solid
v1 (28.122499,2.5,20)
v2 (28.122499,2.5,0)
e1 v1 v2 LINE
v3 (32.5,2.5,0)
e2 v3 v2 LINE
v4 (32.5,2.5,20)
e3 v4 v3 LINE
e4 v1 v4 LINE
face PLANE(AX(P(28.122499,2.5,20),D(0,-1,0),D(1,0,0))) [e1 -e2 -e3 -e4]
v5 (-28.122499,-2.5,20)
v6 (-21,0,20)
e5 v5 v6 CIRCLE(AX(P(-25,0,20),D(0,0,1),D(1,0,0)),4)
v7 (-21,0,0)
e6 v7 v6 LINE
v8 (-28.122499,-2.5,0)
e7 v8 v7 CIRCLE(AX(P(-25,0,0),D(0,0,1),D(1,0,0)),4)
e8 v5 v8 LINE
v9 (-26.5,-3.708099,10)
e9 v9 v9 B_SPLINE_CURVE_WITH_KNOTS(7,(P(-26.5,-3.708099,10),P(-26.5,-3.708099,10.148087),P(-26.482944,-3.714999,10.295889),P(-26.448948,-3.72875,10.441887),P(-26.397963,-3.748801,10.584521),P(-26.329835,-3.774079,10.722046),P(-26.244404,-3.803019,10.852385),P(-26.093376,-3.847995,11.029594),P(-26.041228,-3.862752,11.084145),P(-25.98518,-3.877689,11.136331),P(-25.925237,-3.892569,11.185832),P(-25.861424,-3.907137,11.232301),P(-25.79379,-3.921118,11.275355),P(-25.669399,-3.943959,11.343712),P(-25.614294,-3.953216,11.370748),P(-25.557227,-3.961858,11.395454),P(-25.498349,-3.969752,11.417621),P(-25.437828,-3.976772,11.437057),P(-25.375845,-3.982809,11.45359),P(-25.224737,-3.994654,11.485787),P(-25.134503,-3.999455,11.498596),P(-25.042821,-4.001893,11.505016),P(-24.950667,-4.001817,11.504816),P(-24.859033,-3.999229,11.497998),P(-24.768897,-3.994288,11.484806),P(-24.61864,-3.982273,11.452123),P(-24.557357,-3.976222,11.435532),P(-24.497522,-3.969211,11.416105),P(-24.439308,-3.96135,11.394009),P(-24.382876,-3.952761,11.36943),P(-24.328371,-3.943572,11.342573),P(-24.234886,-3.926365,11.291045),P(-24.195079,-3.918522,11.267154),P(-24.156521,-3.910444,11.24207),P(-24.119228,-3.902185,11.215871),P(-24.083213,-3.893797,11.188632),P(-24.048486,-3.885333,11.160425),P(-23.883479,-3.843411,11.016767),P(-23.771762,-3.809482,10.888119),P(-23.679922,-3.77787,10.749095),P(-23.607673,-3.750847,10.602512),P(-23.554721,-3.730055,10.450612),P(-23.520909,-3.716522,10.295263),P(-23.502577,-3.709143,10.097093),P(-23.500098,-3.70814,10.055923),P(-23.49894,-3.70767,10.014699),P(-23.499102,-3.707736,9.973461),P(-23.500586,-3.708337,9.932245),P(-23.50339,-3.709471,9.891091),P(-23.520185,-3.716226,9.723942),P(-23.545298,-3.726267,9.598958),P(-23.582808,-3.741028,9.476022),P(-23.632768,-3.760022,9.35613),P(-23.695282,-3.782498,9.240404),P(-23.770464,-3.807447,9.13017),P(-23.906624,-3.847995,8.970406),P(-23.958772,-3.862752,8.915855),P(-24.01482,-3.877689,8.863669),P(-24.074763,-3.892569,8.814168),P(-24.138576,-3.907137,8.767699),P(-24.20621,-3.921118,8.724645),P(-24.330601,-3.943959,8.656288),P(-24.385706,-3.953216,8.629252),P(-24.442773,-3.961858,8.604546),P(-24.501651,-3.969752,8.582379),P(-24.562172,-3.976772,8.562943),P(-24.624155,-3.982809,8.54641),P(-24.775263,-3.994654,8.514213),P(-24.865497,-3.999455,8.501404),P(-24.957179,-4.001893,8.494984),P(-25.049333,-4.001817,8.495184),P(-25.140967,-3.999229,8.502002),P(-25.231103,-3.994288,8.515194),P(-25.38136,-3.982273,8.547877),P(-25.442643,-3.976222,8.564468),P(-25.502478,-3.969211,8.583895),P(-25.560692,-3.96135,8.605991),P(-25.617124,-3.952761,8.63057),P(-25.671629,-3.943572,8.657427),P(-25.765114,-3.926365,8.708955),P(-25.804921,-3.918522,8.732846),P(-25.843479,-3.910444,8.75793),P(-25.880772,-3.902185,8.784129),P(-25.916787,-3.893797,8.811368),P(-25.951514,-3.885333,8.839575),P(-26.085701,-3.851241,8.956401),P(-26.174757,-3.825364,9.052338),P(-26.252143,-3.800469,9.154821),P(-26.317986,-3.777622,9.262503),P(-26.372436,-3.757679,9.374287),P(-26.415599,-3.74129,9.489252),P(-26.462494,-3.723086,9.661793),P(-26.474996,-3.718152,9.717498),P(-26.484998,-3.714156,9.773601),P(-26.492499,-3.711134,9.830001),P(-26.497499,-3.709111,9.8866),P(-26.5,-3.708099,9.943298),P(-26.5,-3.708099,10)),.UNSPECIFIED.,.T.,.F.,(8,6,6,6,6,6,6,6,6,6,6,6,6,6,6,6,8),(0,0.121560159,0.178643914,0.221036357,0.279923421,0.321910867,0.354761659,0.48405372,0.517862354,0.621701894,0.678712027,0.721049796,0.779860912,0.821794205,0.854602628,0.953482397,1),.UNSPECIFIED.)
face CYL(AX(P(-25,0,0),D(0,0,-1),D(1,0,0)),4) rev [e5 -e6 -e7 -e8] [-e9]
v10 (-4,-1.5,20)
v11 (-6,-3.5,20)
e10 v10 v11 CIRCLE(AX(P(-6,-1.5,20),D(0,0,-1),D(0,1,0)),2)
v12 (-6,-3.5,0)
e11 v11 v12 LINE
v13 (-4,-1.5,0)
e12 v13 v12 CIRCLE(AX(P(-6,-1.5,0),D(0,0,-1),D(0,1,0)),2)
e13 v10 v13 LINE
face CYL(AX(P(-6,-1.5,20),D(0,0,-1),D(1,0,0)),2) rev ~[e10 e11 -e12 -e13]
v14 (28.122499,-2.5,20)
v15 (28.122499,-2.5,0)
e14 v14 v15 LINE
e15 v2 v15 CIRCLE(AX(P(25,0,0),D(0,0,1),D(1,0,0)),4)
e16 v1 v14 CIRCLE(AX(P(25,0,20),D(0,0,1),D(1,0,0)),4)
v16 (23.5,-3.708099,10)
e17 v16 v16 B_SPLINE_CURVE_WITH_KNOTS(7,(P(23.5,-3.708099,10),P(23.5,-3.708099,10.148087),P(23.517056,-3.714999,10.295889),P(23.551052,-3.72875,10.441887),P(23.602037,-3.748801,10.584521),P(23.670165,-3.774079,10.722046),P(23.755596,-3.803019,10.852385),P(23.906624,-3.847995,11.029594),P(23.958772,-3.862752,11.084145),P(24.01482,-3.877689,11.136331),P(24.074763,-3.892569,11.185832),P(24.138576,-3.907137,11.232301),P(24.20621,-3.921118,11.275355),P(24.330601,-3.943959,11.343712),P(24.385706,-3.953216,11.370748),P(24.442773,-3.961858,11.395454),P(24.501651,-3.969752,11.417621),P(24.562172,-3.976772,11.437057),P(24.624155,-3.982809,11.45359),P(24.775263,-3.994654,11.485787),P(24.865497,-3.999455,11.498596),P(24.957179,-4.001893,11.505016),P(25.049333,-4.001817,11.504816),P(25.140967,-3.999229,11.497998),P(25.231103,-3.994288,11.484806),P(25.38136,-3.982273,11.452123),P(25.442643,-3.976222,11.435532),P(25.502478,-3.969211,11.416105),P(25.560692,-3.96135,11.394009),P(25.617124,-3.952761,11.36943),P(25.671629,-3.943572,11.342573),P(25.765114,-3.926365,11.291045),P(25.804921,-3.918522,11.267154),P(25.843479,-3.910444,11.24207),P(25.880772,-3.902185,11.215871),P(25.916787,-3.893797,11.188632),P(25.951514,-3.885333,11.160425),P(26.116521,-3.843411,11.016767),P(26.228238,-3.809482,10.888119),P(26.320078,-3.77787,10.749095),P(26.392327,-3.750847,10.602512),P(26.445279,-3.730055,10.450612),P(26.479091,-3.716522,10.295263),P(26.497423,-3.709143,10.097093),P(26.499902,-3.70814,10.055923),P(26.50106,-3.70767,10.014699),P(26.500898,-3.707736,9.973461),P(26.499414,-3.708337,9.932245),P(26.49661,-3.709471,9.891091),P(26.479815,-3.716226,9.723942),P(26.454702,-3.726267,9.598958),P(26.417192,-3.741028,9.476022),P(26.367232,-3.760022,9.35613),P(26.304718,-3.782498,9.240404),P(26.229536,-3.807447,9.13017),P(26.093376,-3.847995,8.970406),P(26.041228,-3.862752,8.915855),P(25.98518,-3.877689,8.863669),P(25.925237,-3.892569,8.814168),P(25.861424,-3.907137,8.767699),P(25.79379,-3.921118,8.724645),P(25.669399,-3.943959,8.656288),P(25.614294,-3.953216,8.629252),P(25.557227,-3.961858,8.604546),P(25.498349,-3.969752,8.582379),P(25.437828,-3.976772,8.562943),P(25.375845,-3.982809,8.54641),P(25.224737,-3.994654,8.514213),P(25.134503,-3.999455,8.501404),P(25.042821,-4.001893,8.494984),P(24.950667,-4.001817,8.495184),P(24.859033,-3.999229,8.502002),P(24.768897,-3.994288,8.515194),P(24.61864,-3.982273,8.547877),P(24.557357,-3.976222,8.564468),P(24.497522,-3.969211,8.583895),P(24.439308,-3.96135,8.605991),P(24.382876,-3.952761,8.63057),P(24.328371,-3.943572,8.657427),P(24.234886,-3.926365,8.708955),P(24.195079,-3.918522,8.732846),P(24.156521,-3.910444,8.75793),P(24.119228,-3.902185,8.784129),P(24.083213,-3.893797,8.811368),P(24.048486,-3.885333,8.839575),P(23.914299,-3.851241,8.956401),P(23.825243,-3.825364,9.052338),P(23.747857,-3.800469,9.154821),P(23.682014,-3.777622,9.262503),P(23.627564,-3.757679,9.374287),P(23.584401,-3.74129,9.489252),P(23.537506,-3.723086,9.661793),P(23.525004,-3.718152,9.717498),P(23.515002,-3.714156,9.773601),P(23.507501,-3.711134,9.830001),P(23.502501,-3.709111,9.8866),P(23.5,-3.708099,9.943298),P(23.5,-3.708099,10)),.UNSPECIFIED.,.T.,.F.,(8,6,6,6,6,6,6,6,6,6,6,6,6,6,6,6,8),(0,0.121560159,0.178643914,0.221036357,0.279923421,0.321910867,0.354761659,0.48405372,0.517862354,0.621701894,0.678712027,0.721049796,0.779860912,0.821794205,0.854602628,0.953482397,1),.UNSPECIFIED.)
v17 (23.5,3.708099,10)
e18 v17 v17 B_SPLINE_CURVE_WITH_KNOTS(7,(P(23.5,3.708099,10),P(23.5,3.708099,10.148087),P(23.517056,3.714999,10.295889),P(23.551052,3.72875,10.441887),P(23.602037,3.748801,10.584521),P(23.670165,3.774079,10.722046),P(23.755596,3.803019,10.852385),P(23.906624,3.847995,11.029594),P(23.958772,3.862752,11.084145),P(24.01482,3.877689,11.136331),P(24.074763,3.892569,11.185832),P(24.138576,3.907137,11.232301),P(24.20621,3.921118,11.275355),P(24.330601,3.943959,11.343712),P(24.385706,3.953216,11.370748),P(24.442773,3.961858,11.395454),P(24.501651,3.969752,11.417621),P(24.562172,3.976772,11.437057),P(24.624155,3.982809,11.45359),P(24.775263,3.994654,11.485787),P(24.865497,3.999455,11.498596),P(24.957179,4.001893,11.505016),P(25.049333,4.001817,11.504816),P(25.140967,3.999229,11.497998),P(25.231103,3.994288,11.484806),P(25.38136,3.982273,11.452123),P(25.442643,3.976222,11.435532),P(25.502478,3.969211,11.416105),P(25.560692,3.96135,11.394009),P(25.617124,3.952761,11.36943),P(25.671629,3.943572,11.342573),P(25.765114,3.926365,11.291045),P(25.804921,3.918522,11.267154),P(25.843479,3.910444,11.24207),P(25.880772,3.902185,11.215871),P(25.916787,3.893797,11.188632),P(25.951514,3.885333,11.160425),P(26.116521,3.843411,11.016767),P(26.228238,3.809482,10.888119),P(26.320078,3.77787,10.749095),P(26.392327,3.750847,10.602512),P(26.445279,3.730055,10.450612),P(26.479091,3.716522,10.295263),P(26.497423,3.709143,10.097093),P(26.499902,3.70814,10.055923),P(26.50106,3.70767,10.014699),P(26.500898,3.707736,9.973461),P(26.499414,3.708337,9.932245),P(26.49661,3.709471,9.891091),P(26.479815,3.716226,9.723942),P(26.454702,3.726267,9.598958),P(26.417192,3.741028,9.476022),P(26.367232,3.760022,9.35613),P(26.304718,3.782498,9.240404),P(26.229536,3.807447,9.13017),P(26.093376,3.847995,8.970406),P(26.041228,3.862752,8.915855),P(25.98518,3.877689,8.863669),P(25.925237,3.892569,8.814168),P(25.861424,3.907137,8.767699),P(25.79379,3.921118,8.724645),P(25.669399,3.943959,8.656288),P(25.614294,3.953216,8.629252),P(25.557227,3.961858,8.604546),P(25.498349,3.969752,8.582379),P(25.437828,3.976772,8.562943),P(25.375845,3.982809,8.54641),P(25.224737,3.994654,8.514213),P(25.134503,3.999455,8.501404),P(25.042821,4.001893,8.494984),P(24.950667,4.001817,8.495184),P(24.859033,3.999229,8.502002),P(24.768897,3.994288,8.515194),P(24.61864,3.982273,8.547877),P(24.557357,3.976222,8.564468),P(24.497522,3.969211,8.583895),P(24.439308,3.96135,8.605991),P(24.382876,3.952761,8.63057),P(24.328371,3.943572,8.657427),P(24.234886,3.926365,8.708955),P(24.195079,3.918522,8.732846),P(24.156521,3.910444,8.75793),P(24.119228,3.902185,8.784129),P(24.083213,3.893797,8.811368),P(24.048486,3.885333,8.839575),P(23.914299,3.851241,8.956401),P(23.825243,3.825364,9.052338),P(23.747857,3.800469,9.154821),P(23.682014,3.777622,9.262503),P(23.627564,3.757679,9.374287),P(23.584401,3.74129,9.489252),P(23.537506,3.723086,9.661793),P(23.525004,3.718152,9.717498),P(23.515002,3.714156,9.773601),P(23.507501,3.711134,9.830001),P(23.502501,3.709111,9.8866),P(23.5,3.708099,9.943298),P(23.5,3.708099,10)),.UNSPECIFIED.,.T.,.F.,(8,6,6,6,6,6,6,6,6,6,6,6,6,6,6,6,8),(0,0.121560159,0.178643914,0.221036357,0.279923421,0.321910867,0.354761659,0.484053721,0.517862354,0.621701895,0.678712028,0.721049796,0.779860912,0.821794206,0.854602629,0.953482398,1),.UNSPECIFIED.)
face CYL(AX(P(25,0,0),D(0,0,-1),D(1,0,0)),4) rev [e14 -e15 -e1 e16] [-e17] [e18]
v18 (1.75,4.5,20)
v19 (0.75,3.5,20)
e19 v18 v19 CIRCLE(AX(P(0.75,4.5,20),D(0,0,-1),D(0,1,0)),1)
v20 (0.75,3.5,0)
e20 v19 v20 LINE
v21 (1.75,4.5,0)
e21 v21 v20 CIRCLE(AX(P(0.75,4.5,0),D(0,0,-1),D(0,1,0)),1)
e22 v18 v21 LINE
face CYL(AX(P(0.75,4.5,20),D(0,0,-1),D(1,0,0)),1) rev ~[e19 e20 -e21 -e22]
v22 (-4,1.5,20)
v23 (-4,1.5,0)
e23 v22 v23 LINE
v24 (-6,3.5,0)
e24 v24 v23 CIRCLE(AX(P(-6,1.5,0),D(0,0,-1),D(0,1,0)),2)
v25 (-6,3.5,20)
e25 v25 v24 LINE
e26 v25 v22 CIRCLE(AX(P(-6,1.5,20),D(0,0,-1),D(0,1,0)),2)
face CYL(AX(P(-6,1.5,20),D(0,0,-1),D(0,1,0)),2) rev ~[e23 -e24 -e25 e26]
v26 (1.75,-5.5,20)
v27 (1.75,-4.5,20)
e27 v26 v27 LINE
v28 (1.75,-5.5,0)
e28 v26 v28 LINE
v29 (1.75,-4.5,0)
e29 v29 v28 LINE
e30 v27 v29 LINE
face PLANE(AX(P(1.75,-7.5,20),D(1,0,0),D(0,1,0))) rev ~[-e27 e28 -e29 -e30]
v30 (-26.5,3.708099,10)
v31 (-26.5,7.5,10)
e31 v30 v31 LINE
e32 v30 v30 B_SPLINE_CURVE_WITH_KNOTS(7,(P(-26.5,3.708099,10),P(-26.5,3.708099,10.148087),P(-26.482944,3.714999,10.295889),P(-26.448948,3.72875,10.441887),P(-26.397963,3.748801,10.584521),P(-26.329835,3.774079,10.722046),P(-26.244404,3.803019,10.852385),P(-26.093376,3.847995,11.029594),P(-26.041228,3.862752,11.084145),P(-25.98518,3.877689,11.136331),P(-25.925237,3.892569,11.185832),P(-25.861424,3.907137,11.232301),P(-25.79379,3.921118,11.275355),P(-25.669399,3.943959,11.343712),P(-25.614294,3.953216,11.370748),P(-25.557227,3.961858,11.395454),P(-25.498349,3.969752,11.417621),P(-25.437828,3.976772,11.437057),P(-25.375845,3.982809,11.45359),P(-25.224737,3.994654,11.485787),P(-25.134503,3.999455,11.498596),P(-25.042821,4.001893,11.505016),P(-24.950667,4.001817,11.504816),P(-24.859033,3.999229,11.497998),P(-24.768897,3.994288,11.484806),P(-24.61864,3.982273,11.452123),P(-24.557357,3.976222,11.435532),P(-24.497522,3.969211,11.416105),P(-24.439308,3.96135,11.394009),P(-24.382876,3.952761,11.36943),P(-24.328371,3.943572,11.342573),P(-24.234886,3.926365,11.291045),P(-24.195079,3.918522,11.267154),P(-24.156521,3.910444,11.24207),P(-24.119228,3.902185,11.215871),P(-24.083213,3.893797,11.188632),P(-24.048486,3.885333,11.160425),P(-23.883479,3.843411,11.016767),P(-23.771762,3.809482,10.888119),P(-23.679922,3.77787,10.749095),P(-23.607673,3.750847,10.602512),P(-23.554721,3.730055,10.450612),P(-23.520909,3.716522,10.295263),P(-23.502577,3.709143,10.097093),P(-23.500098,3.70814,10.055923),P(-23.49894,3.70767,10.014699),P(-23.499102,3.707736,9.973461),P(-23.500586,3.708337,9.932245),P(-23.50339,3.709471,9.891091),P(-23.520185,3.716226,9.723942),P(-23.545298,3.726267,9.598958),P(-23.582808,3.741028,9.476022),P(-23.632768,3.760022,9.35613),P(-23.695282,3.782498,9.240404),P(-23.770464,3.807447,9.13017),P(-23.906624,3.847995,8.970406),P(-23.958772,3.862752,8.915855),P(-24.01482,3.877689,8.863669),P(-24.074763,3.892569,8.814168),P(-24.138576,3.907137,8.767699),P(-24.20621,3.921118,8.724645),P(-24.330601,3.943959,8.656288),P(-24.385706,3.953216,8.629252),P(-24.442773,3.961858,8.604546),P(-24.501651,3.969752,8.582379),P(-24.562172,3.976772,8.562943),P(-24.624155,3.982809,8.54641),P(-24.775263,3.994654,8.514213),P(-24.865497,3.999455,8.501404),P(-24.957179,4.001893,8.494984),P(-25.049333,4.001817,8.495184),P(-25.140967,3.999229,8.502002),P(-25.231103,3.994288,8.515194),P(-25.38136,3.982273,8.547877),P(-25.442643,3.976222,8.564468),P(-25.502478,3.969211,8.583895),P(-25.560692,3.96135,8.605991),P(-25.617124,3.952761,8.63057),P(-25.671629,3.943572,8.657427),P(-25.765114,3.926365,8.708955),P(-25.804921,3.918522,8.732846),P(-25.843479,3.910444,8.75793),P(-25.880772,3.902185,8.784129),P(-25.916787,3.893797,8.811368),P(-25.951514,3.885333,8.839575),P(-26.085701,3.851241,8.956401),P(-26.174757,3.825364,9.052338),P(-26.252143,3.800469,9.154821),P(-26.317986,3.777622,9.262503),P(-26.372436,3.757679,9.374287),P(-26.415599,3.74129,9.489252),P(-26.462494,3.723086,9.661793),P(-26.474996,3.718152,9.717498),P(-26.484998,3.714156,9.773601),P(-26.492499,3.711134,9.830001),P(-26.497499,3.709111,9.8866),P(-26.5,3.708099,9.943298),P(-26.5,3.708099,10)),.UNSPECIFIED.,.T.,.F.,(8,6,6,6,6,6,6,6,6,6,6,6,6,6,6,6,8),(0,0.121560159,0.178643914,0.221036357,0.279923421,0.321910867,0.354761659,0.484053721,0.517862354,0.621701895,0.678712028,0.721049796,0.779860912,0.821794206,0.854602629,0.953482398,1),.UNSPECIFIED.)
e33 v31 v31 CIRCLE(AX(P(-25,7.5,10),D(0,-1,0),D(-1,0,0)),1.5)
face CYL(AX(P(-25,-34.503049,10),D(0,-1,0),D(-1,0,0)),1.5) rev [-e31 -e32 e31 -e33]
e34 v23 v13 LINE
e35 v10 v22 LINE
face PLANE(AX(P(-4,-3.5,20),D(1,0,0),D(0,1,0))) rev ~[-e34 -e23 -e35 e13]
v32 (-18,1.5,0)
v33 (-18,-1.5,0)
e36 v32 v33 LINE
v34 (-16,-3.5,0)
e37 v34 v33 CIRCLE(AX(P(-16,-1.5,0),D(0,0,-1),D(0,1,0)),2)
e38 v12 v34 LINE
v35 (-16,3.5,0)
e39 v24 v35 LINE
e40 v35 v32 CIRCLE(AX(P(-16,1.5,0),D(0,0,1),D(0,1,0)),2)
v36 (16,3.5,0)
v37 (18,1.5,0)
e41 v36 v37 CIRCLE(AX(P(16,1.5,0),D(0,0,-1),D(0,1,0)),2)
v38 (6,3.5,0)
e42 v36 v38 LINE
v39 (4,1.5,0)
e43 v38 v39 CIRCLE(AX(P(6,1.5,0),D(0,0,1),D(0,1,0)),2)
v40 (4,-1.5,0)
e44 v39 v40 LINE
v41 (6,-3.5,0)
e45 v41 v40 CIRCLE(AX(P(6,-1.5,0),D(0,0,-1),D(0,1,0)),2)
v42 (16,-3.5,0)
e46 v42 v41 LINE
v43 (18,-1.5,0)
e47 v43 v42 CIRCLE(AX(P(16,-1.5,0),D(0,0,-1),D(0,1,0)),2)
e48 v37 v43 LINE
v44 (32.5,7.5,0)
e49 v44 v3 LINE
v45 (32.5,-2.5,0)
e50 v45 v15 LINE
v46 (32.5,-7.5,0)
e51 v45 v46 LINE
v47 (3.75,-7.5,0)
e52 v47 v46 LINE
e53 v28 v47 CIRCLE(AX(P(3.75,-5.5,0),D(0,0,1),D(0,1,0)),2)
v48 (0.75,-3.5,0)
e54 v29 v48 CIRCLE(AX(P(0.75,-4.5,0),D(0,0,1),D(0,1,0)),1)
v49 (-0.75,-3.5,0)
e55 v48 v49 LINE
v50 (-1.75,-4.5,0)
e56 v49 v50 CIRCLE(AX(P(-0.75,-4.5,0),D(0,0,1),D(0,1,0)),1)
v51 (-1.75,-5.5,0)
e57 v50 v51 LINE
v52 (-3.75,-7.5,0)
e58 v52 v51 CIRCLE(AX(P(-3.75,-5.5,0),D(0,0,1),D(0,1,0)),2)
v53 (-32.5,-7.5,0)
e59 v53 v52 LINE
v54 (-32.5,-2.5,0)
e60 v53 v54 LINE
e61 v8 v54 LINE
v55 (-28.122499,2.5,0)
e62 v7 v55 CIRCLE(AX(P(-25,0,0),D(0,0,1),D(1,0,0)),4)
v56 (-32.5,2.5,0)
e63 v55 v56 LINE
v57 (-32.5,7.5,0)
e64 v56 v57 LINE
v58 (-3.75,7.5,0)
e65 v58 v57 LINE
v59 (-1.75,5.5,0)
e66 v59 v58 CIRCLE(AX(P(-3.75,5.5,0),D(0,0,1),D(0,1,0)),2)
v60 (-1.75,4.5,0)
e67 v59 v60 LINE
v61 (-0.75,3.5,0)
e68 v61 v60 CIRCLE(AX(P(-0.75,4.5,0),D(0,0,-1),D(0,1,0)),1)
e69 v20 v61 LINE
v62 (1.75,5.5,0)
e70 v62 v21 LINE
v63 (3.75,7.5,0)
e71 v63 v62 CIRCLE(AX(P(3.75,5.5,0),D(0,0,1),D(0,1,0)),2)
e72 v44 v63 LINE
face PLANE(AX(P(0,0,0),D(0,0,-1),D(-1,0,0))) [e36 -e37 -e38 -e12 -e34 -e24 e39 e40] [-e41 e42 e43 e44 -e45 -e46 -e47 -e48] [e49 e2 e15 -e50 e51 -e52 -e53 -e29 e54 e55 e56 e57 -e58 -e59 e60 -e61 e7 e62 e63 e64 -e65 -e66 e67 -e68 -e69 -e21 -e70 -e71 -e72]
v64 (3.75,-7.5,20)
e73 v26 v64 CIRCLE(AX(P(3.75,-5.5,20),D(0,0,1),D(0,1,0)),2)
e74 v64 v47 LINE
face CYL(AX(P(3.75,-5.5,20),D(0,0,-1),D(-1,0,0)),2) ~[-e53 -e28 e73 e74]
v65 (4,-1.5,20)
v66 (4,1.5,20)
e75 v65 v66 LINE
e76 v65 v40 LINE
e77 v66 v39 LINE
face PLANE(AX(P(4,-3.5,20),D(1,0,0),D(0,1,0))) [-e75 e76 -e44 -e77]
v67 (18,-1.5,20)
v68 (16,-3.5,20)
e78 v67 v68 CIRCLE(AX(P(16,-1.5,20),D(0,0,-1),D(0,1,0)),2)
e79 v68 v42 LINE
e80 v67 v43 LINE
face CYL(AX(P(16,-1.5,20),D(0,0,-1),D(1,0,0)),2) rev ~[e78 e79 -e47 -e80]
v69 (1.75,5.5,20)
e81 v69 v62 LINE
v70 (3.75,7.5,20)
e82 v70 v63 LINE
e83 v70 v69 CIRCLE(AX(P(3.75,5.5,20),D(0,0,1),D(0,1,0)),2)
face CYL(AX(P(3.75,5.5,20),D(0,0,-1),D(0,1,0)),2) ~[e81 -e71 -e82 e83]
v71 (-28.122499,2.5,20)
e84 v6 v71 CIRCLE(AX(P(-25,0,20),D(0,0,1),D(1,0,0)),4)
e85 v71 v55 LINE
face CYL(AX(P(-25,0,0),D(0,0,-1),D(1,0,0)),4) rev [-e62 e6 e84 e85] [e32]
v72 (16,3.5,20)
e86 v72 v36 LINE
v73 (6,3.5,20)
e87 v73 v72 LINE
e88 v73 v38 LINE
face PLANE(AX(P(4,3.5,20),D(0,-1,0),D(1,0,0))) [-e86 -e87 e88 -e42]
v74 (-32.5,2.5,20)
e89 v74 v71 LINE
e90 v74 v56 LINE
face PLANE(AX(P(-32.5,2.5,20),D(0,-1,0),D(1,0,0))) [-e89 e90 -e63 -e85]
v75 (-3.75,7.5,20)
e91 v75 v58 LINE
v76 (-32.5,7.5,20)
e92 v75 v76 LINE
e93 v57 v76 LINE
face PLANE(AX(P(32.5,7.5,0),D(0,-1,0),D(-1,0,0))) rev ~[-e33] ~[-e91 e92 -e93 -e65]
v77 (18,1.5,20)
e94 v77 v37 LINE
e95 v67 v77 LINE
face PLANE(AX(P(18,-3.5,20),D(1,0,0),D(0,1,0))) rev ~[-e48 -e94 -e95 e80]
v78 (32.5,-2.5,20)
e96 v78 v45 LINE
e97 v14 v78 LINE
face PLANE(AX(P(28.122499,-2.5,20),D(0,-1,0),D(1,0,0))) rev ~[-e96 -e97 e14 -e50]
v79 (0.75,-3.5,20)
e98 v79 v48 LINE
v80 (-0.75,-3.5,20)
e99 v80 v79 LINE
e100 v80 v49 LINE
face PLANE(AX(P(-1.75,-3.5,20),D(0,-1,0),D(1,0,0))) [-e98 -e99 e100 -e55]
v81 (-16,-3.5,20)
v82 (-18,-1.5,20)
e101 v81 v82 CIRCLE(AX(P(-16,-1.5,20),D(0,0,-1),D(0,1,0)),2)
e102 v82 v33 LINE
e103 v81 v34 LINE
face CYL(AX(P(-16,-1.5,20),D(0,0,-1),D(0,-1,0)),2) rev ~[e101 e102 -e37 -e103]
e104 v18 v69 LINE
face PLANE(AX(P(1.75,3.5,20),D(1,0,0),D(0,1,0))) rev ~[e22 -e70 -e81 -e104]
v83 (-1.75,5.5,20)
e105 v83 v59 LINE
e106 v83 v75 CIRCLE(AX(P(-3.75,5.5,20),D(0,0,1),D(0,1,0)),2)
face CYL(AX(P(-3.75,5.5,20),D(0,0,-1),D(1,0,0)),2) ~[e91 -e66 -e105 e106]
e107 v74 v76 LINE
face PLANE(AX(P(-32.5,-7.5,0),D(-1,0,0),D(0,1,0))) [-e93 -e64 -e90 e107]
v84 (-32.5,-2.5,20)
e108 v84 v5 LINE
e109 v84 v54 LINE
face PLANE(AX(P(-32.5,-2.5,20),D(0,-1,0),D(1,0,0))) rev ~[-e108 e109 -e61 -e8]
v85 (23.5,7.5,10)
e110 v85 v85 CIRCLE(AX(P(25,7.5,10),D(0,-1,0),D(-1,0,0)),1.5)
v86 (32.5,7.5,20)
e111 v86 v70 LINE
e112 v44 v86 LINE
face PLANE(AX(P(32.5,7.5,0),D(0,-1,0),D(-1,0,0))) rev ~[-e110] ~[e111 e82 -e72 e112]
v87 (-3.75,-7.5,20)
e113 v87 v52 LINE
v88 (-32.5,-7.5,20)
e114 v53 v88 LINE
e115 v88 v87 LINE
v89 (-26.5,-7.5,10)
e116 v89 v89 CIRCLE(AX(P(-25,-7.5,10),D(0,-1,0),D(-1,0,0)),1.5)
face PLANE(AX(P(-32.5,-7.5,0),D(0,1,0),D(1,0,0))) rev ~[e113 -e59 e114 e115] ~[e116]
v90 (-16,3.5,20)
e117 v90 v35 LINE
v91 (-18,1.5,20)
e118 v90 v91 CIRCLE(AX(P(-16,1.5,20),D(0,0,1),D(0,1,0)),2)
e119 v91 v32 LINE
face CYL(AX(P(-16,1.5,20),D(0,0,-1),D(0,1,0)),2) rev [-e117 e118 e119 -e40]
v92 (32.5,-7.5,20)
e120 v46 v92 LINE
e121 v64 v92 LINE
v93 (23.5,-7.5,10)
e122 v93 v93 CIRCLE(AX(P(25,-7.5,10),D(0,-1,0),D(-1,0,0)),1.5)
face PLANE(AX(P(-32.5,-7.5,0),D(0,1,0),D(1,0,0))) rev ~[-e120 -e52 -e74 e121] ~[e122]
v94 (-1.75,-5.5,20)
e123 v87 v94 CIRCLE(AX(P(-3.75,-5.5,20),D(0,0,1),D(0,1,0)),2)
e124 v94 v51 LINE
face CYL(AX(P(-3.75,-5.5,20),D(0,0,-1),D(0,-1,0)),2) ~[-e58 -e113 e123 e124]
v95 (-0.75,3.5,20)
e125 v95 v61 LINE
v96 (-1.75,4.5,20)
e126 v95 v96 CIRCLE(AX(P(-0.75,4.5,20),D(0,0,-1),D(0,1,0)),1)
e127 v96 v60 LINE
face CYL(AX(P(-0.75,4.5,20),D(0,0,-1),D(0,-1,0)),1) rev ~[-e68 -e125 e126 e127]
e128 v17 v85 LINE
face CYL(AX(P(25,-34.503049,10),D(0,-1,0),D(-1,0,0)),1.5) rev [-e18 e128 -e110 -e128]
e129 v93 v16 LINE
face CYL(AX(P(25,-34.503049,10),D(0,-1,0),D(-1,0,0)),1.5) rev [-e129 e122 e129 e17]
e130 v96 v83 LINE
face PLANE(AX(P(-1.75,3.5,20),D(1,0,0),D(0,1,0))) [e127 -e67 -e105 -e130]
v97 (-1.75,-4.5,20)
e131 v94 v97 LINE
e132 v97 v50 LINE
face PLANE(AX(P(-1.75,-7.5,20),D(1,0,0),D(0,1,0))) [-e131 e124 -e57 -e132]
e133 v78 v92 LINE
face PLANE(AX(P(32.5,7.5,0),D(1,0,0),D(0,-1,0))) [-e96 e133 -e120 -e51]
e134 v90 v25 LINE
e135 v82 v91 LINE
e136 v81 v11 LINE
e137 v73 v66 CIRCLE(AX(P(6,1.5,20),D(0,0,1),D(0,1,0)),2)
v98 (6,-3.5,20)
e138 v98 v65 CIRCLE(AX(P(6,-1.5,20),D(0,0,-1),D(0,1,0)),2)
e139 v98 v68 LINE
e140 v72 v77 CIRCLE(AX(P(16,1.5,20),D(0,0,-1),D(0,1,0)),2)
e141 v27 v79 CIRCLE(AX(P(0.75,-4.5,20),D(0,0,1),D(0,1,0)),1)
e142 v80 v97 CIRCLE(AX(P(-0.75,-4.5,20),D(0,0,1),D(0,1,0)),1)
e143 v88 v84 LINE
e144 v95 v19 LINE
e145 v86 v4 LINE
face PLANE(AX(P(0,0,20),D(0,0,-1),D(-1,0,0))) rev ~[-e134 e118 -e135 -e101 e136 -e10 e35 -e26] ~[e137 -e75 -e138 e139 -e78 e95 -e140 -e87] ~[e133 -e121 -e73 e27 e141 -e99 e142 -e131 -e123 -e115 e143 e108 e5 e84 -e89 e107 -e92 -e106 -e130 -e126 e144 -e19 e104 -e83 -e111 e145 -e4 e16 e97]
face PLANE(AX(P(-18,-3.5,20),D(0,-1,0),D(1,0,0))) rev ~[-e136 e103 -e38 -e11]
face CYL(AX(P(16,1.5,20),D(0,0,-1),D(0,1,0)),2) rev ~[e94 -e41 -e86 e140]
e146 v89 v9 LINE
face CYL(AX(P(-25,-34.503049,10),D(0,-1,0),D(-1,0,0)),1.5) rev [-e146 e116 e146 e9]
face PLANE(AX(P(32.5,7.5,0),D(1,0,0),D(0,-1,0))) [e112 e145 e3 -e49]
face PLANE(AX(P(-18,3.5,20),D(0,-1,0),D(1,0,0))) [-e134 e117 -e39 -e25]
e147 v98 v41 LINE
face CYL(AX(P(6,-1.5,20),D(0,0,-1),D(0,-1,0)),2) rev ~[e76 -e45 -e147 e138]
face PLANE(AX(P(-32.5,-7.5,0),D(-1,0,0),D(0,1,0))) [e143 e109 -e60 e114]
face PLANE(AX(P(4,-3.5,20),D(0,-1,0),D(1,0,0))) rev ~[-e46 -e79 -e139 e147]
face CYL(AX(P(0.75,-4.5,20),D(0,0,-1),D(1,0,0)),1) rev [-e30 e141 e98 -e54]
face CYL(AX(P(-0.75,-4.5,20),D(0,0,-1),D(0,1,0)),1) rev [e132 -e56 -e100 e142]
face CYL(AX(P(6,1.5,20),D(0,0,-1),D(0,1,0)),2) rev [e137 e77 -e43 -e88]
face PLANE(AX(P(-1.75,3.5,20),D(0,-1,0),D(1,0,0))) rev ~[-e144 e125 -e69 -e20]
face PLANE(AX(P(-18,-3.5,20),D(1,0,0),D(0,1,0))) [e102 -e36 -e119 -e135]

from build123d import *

# Parameters (mm, degrees)
SKETCH_1_R               = 4
EXTRUDE_1_DEPTH          = 20
SKETCH_2_W               = 14
SKETCH_2_H               = 7
SKETCH_2_W_2             = 3.5
SKETCH_2_H_2             = 4
CUT_EXTRUDE_1_DEPTH      = 39.890872965
FILLET_1_R               = 2
FILLET_2_R               = 2
FILLET_4_R               = 1
CUT_EXTRUDE_2_DEPTH      = 42.003048667
CUT_EXTRUDE_2_DEPTH_BACK = 42.003048667
SKETCH_4_R               = 1.5
SKETCH_5_W               = 4.377501001
SKETCH_5_H               = 5
CUT_EXTRUDE_3_DEPTH      = 39.890873036


with BuildPart() as part:
    # 草图1 → 凸台-拉伸1 (new body)
    with BuildSketch(Plane.XY):
        Polygon((-25, 7.5), (25, 7.5), (32.5, 7.5), (32.5, -7.5), (25, -7.5), (-25, -7.5), (-32.5, -7.5), (-32.5, 7.5), align=None)
        with Locations((-25, 0)):
            Circle(SKETCH_1_R, mode=Mode.SUBTRACT)
        with Locations((25, 0)):
            Circle(SKETCH_1_R, mode=Mode.SUBTRACT)
    extrude(amount=EXTRUDE_1_DEPTH)

    # 草图2 → 切除-拉伸1 (cut, through all)
    with BuildSketch(Plane.XY.offset(20)):
        with Locations((-11, 0)):
            Rectangle(SKETCH_2_W, SKETCH_2_H)
        with Locations((11, 0)):
            Rectangle(SKETCH_2_W, SKETCH_2_H)
        with Locations((0, 5.5)):
            Rectangle(SKETCH_2_W_2, SKETCH_2_H_2)
        with Locations((0, -5.5)):
            Rectangle(SKETCH_2_W_2, SKETCH_2_H_2)
    extrude(amount=-CUT_EXTRUDE_1_DEPTH, mode=Mode.SUBTRACT)

    # 圆角1
    fillet_1_edges = [part.edges().sort_by_distance(p)[0] for p in [
        (-1.75, 7.5, 10),
        (1.75, 7.5, 10),
        (-1.75, -7.5, 10),
        (1.75, -7.5, 10),
    ]]
    fillet(fillet_1_edges, radius=FILLET_1_R)

    # 圆角2
    fillet_2_edges = [part.edges().sort_by_distance(p)[0] for p in [
        (-4, 3.5, 10),
        (-4, -3.5, 10),
        (-18, -3.5, 10),
        (-18, 3.5, 10),
        (18, 3.5, 10),
        (18, -3.5, 10),
        (4, -3.5, 10),
        (4, 3.5, 10),
    ]]
    fillet(fillet_2_edges, radius=FILLET_2_R)

    # 圆角4
    fillet_4_edges = [part.edges().sort_by_distance(p)[0] for p in [
        (-1.75, 3.5, 10),
        (1.75, 3.5, 10),
        (-1.75, -3.5, 10),
        (1.75, -3.5, 10),
    ]]
    fillet(fillet_4_edges, radius=FILLET_4_R)

    # 草图4 → 切除-拉伸2 (cut, two sides: drawn at the far end of the back side and taken through both)
    with BuildSketch(Plane(origin=(0, 7.5, 0), x_dir=(1, 0, 0), z_dir=(0, 1, 0)).offset(-CUT_EXTRUDE_2_DEPTH_BACK)):
        with Locations(Location((-25, -10, 0), (0, 0, 180))):
            Circle(SKETCH_4_R)
        with Locations(Location((25, -10, 0), (0, 0, 180))):
            Circle(SKETCH_4_R)
    extrude(amount=CUT_EXTRUDE_2_DEPTH + CUT_EXTRUDE_2_DEPTH_BACK, mode=Mode.SUBTRACT)

    # 草图5 → 切除-拉伸3 (cut, through all)
    with BuildSketch(Plane.XY.offset(20)):
        with Locations((-30.3112495, 0)):
            Rectangle(SKETCH_5_W, SKETCH_5_H)
        with Locations((30.3112495, 0)):
            Rectangle(SKETCH_5_W, SKETCH_5_H)
    extrude(amount=-CUT_EXTRUDE_3_DEPTH, mode=Mode.SUBTRACT)


solid = part.part
